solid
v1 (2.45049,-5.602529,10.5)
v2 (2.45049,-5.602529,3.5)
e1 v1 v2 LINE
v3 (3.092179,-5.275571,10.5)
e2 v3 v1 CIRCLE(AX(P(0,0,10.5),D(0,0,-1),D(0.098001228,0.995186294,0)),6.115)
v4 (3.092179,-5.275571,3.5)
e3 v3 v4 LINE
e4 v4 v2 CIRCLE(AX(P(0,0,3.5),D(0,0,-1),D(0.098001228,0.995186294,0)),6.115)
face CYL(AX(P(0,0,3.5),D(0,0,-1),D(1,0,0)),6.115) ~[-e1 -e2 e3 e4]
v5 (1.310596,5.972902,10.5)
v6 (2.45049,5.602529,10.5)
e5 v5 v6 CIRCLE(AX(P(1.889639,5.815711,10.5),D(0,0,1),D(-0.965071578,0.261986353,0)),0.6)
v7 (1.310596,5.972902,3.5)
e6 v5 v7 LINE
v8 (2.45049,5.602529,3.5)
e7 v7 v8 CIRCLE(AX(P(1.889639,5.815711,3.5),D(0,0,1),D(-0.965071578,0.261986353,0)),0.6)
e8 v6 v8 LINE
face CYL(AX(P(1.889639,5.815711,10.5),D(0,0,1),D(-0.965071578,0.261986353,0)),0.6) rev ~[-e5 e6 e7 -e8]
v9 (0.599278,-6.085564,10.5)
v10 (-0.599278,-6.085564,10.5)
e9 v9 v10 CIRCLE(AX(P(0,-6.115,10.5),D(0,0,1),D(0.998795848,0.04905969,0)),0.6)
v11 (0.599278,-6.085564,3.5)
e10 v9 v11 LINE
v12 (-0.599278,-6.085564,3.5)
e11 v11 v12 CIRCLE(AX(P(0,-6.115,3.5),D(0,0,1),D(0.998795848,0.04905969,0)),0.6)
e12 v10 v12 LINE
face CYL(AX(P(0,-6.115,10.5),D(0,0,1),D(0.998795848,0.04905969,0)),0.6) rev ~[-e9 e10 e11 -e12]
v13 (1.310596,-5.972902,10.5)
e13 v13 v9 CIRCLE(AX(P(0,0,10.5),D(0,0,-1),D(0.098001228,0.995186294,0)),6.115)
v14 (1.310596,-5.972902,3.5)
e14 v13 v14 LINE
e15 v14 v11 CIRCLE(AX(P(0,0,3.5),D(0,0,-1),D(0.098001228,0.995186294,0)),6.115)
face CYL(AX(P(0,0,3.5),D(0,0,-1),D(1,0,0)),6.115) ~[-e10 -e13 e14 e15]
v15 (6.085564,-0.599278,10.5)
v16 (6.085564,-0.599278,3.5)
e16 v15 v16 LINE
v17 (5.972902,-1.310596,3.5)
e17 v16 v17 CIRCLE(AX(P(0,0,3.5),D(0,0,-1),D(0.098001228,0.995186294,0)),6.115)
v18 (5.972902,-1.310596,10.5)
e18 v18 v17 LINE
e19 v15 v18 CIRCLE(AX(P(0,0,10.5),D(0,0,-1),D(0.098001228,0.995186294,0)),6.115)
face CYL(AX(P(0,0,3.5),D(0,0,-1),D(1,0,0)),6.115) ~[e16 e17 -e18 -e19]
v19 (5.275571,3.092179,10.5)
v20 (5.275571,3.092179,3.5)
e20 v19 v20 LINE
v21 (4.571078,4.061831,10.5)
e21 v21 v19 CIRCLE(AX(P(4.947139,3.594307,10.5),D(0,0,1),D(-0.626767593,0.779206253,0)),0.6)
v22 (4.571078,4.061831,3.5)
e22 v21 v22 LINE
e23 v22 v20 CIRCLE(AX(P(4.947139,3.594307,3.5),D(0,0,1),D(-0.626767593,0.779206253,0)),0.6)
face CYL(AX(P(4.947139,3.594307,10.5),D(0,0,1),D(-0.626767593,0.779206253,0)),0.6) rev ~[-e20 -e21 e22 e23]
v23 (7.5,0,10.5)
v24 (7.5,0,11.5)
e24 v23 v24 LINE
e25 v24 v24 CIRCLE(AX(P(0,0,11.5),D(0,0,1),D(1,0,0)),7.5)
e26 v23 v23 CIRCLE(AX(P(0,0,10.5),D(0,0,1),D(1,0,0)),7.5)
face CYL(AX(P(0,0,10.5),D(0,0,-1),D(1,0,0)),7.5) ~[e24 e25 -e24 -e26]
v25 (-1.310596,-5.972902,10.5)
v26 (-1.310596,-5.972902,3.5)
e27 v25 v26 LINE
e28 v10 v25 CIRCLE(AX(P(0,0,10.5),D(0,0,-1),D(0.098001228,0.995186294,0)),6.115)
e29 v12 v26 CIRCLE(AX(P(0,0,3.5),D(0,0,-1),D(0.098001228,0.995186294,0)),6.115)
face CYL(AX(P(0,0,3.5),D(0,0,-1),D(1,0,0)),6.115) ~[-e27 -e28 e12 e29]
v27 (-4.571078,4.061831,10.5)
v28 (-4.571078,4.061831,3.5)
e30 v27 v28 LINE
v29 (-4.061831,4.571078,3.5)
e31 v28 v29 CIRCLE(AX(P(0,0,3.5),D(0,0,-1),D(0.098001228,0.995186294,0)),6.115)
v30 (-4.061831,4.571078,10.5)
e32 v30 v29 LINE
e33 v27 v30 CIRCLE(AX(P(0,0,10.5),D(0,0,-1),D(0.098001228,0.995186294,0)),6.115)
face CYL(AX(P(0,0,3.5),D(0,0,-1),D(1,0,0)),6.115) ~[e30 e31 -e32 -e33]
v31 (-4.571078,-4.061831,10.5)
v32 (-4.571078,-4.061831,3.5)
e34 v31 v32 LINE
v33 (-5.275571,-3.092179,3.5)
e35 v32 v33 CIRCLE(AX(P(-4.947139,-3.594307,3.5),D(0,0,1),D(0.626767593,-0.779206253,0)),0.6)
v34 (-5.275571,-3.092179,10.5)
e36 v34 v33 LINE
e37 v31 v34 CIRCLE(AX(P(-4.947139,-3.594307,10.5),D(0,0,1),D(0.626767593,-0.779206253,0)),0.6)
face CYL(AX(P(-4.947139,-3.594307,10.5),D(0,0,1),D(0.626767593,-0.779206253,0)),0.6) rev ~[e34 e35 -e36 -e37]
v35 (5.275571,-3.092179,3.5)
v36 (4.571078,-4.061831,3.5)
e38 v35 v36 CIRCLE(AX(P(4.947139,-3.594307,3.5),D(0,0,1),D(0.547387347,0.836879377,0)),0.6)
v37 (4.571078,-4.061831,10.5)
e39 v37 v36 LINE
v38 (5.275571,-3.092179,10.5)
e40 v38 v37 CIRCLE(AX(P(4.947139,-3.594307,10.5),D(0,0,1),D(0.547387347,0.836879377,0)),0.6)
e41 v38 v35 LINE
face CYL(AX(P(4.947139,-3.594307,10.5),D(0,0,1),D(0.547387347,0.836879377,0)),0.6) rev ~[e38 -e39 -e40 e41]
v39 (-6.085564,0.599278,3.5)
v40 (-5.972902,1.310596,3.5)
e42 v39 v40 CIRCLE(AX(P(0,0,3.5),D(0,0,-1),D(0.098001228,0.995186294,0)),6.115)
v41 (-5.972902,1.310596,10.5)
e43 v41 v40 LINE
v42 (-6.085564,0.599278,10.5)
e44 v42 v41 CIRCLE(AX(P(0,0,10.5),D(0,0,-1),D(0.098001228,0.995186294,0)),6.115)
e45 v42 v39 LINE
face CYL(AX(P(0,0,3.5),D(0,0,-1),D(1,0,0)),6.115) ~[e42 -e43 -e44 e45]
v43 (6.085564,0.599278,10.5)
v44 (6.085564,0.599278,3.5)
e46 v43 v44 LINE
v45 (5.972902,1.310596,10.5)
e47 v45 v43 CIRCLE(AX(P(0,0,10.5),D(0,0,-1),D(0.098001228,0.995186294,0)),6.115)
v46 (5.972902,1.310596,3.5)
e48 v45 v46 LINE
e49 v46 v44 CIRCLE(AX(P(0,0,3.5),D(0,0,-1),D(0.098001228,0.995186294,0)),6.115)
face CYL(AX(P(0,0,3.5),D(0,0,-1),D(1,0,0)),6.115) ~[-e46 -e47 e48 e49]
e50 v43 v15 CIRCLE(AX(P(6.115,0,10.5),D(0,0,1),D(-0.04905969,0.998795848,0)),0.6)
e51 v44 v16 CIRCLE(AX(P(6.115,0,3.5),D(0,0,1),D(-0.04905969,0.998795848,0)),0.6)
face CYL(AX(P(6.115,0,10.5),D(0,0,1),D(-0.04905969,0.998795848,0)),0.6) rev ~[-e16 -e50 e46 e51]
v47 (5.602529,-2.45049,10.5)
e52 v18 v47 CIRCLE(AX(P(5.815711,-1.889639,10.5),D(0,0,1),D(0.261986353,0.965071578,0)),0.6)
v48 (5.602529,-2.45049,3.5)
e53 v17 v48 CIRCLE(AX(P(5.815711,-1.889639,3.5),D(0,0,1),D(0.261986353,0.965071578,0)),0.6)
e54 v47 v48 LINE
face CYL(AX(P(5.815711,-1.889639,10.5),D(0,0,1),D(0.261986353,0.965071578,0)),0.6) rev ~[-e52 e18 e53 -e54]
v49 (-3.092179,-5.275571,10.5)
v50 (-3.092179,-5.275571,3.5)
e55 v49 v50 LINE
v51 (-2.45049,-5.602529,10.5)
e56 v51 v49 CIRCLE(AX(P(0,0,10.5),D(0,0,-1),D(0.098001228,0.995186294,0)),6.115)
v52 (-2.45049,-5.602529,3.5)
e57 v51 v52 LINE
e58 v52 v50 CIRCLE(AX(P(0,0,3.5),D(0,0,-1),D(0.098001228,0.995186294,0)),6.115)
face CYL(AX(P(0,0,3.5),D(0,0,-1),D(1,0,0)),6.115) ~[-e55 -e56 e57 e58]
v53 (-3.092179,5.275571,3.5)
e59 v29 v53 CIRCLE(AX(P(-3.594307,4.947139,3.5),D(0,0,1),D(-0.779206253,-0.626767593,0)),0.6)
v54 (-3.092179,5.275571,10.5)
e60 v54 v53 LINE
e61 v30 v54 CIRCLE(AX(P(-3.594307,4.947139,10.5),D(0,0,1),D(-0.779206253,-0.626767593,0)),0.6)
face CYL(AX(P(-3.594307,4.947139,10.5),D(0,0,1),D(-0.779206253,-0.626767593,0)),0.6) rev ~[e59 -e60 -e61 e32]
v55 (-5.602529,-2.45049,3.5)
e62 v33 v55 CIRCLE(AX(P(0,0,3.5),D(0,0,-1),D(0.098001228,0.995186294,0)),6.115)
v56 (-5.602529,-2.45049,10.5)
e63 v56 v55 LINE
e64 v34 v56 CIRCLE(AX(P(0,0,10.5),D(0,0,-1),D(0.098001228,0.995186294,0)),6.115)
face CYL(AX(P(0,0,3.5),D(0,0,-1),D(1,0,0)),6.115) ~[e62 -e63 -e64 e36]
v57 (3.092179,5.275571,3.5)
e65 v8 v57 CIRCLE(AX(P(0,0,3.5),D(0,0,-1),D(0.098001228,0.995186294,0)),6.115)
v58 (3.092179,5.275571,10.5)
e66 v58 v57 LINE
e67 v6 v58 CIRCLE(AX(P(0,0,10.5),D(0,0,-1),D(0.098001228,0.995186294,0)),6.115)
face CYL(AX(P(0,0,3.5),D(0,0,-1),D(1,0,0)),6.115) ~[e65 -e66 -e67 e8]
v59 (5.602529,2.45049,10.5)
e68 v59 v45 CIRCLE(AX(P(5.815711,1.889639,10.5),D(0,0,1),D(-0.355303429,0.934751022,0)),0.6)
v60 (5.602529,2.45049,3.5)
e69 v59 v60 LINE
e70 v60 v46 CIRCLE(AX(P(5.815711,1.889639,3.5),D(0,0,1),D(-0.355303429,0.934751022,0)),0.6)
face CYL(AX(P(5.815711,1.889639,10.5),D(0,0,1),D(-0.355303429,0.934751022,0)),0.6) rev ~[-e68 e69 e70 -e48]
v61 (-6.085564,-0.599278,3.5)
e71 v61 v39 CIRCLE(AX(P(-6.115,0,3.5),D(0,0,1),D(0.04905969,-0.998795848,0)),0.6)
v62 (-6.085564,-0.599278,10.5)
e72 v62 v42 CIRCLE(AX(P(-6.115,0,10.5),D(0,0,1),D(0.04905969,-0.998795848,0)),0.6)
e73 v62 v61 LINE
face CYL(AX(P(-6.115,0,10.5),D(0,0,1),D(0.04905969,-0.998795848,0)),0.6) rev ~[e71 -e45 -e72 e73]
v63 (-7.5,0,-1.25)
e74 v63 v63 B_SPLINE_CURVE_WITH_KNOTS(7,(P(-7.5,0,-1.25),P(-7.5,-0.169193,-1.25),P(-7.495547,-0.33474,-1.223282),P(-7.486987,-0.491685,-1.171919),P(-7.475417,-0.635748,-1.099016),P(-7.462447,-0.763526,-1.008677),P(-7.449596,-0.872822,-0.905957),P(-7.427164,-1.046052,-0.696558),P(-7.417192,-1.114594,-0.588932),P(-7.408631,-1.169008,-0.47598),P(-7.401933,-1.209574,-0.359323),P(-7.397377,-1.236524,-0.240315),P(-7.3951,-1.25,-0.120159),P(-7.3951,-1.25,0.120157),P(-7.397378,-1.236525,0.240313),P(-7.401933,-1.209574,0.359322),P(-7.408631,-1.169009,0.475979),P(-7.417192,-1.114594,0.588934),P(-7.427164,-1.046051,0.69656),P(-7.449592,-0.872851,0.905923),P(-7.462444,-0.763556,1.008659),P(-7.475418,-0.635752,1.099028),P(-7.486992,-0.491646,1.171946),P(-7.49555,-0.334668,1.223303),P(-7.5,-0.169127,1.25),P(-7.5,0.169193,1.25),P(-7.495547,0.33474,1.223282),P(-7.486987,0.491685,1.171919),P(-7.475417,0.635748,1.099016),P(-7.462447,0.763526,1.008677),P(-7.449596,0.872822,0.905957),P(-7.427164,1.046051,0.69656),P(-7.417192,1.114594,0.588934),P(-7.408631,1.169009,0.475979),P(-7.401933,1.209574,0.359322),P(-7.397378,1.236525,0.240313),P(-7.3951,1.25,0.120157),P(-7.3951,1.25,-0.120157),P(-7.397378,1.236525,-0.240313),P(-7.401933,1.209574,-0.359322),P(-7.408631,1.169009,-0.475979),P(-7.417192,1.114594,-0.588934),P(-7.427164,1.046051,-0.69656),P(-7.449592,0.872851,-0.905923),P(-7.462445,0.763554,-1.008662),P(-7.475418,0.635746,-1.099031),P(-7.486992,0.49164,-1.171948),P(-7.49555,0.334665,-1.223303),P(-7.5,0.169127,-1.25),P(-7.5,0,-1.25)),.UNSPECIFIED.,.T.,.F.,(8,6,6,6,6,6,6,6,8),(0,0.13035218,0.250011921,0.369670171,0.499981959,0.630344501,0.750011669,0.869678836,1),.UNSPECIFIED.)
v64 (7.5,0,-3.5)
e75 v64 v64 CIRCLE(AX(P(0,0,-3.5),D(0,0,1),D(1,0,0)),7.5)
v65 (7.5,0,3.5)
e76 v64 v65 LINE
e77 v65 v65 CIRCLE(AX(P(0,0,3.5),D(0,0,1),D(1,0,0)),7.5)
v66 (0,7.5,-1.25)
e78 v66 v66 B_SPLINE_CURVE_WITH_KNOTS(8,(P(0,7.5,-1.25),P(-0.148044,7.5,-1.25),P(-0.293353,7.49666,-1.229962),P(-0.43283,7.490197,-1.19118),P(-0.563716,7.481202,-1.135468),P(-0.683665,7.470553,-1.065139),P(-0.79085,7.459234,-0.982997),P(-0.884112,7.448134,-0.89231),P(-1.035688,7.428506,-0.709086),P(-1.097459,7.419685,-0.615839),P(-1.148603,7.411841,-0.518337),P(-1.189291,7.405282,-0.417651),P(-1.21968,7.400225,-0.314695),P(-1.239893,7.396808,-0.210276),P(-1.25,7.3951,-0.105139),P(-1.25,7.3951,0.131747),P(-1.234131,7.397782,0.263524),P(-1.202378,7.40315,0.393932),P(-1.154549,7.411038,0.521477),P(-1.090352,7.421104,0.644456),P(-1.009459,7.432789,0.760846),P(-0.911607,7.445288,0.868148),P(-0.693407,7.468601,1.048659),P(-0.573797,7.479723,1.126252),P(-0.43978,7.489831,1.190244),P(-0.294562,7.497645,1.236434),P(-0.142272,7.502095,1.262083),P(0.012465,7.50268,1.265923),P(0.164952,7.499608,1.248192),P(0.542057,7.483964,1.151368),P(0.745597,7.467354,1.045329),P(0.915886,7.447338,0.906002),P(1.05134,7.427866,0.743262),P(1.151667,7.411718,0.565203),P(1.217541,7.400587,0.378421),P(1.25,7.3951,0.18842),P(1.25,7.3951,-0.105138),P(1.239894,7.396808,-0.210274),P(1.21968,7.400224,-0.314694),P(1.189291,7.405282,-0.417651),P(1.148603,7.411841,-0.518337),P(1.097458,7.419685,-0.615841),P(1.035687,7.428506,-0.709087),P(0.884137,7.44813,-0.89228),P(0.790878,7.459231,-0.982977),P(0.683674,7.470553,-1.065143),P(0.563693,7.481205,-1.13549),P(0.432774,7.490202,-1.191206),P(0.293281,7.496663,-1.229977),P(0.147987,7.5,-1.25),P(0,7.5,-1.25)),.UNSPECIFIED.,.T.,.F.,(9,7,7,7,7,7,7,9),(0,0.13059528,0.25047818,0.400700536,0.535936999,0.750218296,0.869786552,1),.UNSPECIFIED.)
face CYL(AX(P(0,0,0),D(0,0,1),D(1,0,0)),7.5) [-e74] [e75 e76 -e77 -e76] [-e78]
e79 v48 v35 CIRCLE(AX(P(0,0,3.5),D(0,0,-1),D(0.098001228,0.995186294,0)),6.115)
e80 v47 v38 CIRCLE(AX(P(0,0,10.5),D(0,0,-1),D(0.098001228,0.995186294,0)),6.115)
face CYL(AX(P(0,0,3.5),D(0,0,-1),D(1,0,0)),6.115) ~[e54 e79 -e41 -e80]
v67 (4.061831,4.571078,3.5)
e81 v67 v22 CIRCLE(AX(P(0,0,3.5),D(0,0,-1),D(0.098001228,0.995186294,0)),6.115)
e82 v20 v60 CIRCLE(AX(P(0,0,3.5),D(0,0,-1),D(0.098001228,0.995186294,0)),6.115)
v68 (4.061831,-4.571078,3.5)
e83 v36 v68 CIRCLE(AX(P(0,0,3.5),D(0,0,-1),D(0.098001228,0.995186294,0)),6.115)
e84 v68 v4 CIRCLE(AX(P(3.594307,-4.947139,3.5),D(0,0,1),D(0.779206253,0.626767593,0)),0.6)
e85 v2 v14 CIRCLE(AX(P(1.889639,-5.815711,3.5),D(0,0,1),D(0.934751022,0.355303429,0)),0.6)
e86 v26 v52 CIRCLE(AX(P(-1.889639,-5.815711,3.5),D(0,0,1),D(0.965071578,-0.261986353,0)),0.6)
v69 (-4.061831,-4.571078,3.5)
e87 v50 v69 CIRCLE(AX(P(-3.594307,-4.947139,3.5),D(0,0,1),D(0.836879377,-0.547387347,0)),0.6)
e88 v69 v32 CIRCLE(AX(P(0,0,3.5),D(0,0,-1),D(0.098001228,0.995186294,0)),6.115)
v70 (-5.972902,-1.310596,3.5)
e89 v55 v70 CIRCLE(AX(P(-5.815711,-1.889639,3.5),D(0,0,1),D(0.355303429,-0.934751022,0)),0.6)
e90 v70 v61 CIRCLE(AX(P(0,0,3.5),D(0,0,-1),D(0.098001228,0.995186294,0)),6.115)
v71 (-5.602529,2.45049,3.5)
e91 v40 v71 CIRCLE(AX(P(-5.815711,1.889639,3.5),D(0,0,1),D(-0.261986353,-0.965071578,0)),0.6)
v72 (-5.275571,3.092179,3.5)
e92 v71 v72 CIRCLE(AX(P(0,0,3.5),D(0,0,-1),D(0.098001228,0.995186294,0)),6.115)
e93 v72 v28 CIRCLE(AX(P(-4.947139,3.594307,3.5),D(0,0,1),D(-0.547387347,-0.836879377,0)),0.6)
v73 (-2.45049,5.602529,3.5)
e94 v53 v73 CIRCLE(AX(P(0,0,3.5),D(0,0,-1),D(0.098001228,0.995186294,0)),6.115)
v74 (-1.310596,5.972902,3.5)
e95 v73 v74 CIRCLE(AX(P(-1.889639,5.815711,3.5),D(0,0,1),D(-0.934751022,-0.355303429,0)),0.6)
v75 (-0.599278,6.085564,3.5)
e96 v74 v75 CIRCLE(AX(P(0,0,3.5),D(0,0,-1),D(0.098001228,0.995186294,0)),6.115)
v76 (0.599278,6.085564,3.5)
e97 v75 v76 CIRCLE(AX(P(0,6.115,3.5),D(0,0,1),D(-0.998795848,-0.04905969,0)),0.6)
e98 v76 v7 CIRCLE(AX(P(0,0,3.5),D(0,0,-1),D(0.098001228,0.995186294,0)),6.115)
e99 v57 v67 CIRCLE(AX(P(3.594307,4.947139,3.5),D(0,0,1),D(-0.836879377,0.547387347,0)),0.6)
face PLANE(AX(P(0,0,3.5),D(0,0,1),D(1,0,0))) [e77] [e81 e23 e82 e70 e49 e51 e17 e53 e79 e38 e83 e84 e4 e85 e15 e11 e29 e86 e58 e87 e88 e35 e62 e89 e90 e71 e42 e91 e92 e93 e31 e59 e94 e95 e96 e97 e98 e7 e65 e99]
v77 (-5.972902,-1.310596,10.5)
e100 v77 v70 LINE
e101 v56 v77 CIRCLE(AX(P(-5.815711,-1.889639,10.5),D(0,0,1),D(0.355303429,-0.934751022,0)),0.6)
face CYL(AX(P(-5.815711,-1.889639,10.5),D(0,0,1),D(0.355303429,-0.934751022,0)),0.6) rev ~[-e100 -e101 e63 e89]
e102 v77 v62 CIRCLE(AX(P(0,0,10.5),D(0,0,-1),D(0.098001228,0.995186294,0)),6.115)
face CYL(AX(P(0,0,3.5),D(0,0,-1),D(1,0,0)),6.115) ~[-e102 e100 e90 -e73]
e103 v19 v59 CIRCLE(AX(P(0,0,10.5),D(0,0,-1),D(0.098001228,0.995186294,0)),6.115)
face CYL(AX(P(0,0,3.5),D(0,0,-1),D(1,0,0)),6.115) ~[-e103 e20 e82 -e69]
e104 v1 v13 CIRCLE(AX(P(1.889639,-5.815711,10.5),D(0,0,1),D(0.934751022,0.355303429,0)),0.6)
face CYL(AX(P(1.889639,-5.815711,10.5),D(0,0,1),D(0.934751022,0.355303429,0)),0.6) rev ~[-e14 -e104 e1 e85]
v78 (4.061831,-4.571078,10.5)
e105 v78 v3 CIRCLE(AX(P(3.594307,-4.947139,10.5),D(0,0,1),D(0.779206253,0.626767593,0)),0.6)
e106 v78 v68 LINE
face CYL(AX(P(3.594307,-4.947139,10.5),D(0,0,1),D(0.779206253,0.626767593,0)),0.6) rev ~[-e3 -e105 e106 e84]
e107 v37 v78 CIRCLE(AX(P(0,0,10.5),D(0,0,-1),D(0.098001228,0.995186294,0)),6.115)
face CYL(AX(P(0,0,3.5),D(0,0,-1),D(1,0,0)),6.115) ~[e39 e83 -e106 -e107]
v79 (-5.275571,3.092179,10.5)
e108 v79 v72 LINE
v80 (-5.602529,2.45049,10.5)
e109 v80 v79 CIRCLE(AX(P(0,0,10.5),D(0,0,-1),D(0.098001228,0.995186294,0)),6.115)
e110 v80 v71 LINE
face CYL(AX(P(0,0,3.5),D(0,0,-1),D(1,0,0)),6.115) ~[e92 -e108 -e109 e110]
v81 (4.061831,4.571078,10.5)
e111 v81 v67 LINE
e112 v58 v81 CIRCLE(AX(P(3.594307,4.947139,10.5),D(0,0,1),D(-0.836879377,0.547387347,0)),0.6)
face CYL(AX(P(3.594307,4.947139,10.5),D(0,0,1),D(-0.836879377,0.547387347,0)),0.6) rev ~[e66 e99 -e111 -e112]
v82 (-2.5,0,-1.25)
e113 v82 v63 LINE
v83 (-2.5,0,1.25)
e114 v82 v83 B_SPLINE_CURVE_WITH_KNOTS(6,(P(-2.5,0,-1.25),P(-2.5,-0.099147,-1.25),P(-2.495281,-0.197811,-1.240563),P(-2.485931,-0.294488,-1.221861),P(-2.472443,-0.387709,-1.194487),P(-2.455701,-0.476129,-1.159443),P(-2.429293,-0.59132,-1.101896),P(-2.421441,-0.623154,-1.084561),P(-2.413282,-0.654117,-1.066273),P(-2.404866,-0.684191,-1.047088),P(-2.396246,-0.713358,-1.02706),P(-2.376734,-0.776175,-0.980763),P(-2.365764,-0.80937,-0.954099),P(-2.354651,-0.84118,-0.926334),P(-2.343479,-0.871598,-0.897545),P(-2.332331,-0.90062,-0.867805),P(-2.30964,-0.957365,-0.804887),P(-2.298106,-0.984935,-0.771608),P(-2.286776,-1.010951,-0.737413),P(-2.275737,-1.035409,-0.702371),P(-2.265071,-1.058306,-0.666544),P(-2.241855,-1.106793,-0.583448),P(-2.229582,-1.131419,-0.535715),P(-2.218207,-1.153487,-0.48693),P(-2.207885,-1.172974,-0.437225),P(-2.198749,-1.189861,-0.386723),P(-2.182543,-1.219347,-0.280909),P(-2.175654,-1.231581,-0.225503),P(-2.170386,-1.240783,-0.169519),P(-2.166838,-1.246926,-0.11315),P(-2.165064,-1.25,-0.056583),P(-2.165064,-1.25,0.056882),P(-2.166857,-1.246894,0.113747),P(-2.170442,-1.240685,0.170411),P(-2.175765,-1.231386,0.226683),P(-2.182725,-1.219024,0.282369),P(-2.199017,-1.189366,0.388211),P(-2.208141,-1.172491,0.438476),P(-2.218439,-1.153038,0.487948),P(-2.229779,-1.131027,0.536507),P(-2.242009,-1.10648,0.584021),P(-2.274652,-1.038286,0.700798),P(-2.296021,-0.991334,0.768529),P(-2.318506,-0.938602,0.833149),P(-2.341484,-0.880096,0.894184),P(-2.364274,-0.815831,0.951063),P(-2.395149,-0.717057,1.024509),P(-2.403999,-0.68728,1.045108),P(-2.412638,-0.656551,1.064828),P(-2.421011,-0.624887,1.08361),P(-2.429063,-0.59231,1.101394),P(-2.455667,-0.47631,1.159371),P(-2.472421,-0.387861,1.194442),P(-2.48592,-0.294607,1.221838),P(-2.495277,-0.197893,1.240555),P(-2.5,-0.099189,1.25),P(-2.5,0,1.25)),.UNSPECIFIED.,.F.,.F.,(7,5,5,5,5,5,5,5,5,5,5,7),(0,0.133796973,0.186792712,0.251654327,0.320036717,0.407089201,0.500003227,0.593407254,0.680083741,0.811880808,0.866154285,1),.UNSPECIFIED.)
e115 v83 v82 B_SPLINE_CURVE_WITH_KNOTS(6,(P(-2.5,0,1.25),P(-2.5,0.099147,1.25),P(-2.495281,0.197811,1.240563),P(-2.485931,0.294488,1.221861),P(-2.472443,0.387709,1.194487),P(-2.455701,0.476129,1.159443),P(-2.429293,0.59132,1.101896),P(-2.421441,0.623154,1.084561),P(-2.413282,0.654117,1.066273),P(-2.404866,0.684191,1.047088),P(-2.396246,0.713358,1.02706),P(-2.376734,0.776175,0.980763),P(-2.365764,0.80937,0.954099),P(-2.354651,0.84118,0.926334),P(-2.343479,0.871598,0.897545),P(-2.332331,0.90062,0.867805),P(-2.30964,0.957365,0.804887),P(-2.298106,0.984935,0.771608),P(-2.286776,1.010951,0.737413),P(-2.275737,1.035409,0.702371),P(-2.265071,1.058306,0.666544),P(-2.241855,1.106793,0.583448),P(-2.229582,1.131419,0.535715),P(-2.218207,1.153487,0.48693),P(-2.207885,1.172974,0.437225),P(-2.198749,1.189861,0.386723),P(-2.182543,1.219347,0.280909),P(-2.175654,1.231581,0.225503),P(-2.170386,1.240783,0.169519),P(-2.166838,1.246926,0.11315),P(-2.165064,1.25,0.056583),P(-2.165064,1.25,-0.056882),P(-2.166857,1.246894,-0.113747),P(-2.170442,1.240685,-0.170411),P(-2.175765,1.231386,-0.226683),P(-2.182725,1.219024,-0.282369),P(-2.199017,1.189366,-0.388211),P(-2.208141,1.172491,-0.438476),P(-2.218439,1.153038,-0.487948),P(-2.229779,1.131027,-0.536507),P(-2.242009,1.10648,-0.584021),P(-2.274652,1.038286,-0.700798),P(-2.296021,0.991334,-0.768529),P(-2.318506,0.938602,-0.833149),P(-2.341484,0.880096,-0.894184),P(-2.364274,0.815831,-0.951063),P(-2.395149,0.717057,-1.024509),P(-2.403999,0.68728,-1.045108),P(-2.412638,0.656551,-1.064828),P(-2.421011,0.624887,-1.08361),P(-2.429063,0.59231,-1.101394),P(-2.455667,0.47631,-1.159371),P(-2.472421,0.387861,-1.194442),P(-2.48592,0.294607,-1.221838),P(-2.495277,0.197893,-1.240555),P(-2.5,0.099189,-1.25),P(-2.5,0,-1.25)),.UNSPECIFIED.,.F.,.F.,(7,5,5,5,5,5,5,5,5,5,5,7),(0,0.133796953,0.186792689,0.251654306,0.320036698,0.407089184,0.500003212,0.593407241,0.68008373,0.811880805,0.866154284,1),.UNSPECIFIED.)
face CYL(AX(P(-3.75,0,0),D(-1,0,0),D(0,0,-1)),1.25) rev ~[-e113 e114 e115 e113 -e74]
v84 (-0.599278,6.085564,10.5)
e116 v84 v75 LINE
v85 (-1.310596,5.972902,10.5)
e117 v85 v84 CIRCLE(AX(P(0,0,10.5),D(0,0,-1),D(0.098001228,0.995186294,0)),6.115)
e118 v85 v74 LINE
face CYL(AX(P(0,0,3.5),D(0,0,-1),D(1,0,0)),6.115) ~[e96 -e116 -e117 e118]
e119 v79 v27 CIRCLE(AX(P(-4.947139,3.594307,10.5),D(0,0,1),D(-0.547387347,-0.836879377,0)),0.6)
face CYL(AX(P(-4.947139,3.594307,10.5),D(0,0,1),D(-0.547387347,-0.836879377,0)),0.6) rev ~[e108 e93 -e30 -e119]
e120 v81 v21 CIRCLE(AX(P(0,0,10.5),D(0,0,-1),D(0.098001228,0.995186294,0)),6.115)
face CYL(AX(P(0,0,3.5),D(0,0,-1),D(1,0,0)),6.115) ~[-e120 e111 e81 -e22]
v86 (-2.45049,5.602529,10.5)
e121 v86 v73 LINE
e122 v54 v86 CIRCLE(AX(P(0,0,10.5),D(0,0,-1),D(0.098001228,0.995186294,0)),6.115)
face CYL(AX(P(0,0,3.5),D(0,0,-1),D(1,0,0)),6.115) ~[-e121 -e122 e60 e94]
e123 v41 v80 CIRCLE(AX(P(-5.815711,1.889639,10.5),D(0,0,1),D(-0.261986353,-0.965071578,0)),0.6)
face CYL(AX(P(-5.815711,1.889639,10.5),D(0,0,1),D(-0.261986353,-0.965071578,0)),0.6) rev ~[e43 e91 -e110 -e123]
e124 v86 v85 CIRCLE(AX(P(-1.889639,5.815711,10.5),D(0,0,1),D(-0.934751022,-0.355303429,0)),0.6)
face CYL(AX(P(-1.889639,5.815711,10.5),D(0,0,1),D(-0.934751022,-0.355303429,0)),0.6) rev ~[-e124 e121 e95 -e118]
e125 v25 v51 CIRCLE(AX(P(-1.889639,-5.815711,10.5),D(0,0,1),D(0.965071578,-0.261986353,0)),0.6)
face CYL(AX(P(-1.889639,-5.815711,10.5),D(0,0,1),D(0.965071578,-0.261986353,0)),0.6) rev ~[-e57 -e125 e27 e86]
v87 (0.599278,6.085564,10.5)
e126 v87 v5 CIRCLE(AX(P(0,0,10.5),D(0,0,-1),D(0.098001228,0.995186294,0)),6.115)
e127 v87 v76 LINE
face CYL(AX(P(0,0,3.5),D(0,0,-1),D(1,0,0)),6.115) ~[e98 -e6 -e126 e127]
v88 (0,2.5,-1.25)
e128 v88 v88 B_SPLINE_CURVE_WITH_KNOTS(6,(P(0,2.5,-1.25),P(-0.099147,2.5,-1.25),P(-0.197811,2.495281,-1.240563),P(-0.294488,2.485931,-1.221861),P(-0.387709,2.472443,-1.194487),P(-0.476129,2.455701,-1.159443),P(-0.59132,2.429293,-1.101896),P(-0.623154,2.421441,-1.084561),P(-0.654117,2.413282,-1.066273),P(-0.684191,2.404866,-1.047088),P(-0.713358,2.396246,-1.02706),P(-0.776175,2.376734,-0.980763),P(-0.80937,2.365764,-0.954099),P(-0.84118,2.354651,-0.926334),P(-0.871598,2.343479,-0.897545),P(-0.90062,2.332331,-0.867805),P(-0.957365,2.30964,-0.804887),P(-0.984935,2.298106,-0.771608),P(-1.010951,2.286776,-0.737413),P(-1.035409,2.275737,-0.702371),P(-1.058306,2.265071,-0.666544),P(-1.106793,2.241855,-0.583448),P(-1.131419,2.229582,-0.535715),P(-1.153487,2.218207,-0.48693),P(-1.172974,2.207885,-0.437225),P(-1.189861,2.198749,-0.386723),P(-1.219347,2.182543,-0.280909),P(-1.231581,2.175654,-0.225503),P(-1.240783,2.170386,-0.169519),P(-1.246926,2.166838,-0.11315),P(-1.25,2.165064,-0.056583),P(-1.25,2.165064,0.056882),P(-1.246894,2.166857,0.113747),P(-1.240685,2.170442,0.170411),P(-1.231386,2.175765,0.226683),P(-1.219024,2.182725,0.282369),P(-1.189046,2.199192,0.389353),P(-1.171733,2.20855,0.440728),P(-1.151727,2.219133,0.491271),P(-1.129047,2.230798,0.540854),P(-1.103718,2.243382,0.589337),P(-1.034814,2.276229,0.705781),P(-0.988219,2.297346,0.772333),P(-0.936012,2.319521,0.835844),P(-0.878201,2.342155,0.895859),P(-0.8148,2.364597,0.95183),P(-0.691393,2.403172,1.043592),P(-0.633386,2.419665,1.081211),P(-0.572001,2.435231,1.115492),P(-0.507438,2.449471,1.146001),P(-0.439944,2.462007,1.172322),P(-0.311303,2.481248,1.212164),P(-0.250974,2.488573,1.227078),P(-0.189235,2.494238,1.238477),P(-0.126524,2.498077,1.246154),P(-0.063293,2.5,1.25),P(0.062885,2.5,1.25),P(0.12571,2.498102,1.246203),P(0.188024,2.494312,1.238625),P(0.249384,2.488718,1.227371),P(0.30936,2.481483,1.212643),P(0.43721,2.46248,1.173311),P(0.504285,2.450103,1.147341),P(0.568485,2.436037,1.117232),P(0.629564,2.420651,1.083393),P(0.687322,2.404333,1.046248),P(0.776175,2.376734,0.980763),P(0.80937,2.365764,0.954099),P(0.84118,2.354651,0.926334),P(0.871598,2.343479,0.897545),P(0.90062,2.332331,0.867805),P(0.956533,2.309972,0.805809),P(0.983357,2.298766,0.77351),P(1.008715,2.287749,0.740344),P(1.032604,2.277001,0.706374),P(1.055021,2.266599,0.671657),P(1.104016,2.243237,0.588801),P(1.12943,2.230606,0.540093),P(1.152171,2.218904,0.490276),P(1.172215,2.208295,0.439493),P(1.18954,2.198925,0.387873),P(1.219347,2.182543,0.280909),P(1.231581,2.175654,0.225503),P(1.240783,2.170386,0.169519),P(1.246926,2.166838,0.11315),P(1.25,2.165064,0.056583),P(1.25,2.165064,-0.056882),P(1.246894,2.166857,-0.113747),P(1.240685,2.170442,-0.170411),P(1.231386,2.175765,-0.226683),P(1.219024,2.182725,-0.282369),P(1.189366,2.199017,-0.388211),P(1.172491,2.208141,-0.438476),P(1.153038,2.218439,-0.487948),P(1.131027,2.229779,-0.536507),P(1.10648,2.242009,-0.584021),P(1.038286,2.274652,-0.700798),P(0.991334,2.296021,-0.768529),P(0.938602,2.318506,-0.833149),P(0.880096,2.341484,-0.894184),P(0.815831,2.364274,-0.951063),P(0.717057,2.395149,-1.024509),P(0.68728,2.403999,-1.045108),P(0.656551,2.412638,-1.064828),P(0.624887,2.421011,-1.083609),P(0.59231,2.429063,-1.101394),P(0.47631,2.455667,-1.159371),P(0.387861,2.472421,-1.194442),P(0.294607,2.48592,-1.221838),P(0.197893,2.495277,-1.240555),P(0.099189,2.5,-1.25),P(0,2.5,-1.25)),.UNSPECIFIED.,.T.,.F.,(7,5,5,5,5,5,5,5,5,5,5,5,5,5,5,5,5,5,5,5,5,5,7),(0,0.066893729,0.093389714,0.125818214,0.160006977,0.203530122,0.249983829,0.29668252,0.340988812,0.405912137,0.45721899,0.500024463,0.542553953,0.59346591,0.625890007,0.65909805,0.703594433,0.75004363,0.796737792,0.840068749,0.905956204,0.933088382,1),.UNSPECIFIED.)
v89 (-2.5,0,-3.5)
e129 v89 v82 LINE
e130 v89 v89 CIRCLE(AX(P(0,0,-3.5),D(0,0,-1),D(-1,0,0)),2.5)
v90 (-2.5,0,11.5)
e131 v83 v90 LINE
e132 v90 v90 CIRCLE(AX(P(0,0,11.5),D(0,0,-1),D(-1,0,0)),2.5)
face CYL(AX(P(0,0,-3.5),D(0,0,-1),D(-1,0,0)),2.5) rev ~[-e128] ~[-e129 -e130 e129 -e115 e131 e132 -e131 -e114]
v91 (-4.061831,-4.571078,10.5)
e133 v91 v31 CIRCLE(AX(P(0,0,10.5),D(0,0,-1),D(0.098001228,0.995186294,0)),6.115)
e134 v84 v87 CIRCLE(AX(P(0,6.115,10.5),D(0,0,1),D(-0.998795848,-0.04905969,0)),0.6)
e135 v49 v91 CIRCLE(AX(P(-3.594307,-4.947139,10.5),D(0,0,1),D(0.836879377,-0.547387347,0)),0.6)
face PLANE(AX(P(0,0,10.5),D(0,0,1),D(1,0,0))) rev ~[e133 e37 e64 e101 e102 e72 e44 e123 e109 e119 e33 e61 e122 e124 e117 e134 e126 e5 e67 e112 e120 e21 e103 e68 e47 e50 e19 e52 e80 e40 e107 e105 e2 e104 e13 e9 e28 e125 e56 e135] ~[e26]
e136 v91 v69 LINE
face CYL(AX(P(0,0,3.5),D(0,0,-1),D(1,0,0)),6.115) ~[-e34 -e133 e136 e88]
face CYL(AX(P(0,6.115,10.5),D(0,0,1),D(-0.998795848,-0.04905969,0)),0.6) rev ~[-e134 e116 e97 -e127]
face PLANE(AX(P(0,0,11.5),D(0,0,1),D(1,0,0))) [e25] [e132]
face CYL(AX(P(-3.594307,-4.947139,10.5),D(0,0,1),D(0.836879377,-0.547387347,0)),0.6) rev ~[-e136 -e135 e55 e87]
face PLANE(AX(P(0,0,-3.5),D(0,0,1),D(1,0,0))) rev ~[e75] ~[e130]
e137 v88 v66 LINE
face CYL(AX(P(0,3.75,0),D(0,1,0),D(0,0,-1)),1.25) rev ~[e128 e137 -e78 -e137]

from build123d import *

# Parameters (mm, degrees)
SKETCH_1_R               = 7.5
EXTRUDE_1_DEPTH          = 3.5
SKETCH_2_R               = 6.115
EXTRUDE_2_DEPTH          = 7
CUT_EXTRUDE_3_DEPTH      = 7
SKETCH_3_R               = 7.5
EXTRUDE_3_DEPTH          = 1
SKETCH_6_R               = 2.5
CUT_EXTRUDE_2_DEPTH      = 16
PATTERN_CIRCULAR_2_COUNT = 20
SKETCH_13_W              = 1.25
SKETCH_13_H              = 7.5
PATTERN_CIRCULAR_4_COUNT = 2
PATTERN_CIRCULAR_4_ANGLE = 90


with BuildPart() as part:
    # 草圖1 → 填料-伸長1 (new body, symmetric)
    with BuildSketch(Plane.XY):
        Circle(SKETCH_1_R)
    extrude(amount=EXTRUDE_1_DEPTH, both=True)

    # 草圖2 → 填料-伸長2 (add)
    with BuildSketch(Plane.XY.offset(3.5)):
        Circle(SKETCH_2_R)
    extrude(amount=EXTRUDE_2_DEPTH)

    # 草圖7 → 除料-伸長3 (cut)
    with BuildSketch(Plane.XY.offset(10.5)):
        with BuildLine():
            ThreePointArc((-0.599277509, 6.085564186), (0, 5.515), (0.599277509, 6.085564186))
            ThreePointArc((0.599277509, 6.085564186), (0, 6.115), (-0.599277509, 6.085564186))
        make_face()
    cut_extrude_3 = extrude(amount=-CUT_EXTRUDE_3_DEPTH, mode=Mode.SUBTRACT)

    # 草圖3 → 填料-伸長3 (add)
    with BuildSketch(Plane.XY.offset(10.5)):
        Circle(SKETCH_3_R)
    extrude(amount=EXTRUDE_3_DEPTH)

    # 草圖6 → 除料-伸長2 (cut, through all)
    with BuildSketch(Plane(origin=(0, 0, -3.5), x_dir=(-1, 0, 0), z_dir=(0, 0, -1))):
        Circle(SKETCH_6_R)
    extrude(amount=-CUT_EXTRUDE_2_DEPTH, mode=Mode.SUBTRACT)

    # 環狀複製排列2: 除料-伸長3 ×20 about axis
    pattern_circular_2_axis = Axis((0, 0, 0), (0, 0, 1))
    for i in range(1, PATTERN_CIRCULAR_2_COUNT):
        add(cut_extrude_3.rotate(pattern_circular_2_axis, i * 360 / PATTERN_CIRCULAR_2_COUNT), mode=Mode.SUBTRACT)

    # 草圖13 → M3x0.5 螺紋孔3 (revolve, cut)
    with BuildSketch(Plane(origin=(0, 0, 0), x_dir=(0, 0, -1), z_dir=(1, 0, 0))):
        with Locations((0.625, 3.75)):
            Rectangle(SKETCH_13_W, SKETCH_13_H)
    m3x0_5_3 = revolve(axis=Axis((0, -6.35, 0), (0, 1, 0)), mode=Mode.SUBTRACT)

    # 環狀複製排列4: M3x0.5 螺紋孔3 ×2 about axis
    pattern_circular_4_axis = Axis((0, 0, 3.5), (0, 0, 1))
    for i in range(1, PATTERN_CIRCULAR_4_COUNT):
        add(m3x0_5_3.rotate(pattern_circular_4_axis, i * PATTERN_CIRCULAR_4_ANGLE / (PATTERN_CIRCULAR_4_COUNT - 1)), mode=Mode.SUBTRACT)


solid = part.part
